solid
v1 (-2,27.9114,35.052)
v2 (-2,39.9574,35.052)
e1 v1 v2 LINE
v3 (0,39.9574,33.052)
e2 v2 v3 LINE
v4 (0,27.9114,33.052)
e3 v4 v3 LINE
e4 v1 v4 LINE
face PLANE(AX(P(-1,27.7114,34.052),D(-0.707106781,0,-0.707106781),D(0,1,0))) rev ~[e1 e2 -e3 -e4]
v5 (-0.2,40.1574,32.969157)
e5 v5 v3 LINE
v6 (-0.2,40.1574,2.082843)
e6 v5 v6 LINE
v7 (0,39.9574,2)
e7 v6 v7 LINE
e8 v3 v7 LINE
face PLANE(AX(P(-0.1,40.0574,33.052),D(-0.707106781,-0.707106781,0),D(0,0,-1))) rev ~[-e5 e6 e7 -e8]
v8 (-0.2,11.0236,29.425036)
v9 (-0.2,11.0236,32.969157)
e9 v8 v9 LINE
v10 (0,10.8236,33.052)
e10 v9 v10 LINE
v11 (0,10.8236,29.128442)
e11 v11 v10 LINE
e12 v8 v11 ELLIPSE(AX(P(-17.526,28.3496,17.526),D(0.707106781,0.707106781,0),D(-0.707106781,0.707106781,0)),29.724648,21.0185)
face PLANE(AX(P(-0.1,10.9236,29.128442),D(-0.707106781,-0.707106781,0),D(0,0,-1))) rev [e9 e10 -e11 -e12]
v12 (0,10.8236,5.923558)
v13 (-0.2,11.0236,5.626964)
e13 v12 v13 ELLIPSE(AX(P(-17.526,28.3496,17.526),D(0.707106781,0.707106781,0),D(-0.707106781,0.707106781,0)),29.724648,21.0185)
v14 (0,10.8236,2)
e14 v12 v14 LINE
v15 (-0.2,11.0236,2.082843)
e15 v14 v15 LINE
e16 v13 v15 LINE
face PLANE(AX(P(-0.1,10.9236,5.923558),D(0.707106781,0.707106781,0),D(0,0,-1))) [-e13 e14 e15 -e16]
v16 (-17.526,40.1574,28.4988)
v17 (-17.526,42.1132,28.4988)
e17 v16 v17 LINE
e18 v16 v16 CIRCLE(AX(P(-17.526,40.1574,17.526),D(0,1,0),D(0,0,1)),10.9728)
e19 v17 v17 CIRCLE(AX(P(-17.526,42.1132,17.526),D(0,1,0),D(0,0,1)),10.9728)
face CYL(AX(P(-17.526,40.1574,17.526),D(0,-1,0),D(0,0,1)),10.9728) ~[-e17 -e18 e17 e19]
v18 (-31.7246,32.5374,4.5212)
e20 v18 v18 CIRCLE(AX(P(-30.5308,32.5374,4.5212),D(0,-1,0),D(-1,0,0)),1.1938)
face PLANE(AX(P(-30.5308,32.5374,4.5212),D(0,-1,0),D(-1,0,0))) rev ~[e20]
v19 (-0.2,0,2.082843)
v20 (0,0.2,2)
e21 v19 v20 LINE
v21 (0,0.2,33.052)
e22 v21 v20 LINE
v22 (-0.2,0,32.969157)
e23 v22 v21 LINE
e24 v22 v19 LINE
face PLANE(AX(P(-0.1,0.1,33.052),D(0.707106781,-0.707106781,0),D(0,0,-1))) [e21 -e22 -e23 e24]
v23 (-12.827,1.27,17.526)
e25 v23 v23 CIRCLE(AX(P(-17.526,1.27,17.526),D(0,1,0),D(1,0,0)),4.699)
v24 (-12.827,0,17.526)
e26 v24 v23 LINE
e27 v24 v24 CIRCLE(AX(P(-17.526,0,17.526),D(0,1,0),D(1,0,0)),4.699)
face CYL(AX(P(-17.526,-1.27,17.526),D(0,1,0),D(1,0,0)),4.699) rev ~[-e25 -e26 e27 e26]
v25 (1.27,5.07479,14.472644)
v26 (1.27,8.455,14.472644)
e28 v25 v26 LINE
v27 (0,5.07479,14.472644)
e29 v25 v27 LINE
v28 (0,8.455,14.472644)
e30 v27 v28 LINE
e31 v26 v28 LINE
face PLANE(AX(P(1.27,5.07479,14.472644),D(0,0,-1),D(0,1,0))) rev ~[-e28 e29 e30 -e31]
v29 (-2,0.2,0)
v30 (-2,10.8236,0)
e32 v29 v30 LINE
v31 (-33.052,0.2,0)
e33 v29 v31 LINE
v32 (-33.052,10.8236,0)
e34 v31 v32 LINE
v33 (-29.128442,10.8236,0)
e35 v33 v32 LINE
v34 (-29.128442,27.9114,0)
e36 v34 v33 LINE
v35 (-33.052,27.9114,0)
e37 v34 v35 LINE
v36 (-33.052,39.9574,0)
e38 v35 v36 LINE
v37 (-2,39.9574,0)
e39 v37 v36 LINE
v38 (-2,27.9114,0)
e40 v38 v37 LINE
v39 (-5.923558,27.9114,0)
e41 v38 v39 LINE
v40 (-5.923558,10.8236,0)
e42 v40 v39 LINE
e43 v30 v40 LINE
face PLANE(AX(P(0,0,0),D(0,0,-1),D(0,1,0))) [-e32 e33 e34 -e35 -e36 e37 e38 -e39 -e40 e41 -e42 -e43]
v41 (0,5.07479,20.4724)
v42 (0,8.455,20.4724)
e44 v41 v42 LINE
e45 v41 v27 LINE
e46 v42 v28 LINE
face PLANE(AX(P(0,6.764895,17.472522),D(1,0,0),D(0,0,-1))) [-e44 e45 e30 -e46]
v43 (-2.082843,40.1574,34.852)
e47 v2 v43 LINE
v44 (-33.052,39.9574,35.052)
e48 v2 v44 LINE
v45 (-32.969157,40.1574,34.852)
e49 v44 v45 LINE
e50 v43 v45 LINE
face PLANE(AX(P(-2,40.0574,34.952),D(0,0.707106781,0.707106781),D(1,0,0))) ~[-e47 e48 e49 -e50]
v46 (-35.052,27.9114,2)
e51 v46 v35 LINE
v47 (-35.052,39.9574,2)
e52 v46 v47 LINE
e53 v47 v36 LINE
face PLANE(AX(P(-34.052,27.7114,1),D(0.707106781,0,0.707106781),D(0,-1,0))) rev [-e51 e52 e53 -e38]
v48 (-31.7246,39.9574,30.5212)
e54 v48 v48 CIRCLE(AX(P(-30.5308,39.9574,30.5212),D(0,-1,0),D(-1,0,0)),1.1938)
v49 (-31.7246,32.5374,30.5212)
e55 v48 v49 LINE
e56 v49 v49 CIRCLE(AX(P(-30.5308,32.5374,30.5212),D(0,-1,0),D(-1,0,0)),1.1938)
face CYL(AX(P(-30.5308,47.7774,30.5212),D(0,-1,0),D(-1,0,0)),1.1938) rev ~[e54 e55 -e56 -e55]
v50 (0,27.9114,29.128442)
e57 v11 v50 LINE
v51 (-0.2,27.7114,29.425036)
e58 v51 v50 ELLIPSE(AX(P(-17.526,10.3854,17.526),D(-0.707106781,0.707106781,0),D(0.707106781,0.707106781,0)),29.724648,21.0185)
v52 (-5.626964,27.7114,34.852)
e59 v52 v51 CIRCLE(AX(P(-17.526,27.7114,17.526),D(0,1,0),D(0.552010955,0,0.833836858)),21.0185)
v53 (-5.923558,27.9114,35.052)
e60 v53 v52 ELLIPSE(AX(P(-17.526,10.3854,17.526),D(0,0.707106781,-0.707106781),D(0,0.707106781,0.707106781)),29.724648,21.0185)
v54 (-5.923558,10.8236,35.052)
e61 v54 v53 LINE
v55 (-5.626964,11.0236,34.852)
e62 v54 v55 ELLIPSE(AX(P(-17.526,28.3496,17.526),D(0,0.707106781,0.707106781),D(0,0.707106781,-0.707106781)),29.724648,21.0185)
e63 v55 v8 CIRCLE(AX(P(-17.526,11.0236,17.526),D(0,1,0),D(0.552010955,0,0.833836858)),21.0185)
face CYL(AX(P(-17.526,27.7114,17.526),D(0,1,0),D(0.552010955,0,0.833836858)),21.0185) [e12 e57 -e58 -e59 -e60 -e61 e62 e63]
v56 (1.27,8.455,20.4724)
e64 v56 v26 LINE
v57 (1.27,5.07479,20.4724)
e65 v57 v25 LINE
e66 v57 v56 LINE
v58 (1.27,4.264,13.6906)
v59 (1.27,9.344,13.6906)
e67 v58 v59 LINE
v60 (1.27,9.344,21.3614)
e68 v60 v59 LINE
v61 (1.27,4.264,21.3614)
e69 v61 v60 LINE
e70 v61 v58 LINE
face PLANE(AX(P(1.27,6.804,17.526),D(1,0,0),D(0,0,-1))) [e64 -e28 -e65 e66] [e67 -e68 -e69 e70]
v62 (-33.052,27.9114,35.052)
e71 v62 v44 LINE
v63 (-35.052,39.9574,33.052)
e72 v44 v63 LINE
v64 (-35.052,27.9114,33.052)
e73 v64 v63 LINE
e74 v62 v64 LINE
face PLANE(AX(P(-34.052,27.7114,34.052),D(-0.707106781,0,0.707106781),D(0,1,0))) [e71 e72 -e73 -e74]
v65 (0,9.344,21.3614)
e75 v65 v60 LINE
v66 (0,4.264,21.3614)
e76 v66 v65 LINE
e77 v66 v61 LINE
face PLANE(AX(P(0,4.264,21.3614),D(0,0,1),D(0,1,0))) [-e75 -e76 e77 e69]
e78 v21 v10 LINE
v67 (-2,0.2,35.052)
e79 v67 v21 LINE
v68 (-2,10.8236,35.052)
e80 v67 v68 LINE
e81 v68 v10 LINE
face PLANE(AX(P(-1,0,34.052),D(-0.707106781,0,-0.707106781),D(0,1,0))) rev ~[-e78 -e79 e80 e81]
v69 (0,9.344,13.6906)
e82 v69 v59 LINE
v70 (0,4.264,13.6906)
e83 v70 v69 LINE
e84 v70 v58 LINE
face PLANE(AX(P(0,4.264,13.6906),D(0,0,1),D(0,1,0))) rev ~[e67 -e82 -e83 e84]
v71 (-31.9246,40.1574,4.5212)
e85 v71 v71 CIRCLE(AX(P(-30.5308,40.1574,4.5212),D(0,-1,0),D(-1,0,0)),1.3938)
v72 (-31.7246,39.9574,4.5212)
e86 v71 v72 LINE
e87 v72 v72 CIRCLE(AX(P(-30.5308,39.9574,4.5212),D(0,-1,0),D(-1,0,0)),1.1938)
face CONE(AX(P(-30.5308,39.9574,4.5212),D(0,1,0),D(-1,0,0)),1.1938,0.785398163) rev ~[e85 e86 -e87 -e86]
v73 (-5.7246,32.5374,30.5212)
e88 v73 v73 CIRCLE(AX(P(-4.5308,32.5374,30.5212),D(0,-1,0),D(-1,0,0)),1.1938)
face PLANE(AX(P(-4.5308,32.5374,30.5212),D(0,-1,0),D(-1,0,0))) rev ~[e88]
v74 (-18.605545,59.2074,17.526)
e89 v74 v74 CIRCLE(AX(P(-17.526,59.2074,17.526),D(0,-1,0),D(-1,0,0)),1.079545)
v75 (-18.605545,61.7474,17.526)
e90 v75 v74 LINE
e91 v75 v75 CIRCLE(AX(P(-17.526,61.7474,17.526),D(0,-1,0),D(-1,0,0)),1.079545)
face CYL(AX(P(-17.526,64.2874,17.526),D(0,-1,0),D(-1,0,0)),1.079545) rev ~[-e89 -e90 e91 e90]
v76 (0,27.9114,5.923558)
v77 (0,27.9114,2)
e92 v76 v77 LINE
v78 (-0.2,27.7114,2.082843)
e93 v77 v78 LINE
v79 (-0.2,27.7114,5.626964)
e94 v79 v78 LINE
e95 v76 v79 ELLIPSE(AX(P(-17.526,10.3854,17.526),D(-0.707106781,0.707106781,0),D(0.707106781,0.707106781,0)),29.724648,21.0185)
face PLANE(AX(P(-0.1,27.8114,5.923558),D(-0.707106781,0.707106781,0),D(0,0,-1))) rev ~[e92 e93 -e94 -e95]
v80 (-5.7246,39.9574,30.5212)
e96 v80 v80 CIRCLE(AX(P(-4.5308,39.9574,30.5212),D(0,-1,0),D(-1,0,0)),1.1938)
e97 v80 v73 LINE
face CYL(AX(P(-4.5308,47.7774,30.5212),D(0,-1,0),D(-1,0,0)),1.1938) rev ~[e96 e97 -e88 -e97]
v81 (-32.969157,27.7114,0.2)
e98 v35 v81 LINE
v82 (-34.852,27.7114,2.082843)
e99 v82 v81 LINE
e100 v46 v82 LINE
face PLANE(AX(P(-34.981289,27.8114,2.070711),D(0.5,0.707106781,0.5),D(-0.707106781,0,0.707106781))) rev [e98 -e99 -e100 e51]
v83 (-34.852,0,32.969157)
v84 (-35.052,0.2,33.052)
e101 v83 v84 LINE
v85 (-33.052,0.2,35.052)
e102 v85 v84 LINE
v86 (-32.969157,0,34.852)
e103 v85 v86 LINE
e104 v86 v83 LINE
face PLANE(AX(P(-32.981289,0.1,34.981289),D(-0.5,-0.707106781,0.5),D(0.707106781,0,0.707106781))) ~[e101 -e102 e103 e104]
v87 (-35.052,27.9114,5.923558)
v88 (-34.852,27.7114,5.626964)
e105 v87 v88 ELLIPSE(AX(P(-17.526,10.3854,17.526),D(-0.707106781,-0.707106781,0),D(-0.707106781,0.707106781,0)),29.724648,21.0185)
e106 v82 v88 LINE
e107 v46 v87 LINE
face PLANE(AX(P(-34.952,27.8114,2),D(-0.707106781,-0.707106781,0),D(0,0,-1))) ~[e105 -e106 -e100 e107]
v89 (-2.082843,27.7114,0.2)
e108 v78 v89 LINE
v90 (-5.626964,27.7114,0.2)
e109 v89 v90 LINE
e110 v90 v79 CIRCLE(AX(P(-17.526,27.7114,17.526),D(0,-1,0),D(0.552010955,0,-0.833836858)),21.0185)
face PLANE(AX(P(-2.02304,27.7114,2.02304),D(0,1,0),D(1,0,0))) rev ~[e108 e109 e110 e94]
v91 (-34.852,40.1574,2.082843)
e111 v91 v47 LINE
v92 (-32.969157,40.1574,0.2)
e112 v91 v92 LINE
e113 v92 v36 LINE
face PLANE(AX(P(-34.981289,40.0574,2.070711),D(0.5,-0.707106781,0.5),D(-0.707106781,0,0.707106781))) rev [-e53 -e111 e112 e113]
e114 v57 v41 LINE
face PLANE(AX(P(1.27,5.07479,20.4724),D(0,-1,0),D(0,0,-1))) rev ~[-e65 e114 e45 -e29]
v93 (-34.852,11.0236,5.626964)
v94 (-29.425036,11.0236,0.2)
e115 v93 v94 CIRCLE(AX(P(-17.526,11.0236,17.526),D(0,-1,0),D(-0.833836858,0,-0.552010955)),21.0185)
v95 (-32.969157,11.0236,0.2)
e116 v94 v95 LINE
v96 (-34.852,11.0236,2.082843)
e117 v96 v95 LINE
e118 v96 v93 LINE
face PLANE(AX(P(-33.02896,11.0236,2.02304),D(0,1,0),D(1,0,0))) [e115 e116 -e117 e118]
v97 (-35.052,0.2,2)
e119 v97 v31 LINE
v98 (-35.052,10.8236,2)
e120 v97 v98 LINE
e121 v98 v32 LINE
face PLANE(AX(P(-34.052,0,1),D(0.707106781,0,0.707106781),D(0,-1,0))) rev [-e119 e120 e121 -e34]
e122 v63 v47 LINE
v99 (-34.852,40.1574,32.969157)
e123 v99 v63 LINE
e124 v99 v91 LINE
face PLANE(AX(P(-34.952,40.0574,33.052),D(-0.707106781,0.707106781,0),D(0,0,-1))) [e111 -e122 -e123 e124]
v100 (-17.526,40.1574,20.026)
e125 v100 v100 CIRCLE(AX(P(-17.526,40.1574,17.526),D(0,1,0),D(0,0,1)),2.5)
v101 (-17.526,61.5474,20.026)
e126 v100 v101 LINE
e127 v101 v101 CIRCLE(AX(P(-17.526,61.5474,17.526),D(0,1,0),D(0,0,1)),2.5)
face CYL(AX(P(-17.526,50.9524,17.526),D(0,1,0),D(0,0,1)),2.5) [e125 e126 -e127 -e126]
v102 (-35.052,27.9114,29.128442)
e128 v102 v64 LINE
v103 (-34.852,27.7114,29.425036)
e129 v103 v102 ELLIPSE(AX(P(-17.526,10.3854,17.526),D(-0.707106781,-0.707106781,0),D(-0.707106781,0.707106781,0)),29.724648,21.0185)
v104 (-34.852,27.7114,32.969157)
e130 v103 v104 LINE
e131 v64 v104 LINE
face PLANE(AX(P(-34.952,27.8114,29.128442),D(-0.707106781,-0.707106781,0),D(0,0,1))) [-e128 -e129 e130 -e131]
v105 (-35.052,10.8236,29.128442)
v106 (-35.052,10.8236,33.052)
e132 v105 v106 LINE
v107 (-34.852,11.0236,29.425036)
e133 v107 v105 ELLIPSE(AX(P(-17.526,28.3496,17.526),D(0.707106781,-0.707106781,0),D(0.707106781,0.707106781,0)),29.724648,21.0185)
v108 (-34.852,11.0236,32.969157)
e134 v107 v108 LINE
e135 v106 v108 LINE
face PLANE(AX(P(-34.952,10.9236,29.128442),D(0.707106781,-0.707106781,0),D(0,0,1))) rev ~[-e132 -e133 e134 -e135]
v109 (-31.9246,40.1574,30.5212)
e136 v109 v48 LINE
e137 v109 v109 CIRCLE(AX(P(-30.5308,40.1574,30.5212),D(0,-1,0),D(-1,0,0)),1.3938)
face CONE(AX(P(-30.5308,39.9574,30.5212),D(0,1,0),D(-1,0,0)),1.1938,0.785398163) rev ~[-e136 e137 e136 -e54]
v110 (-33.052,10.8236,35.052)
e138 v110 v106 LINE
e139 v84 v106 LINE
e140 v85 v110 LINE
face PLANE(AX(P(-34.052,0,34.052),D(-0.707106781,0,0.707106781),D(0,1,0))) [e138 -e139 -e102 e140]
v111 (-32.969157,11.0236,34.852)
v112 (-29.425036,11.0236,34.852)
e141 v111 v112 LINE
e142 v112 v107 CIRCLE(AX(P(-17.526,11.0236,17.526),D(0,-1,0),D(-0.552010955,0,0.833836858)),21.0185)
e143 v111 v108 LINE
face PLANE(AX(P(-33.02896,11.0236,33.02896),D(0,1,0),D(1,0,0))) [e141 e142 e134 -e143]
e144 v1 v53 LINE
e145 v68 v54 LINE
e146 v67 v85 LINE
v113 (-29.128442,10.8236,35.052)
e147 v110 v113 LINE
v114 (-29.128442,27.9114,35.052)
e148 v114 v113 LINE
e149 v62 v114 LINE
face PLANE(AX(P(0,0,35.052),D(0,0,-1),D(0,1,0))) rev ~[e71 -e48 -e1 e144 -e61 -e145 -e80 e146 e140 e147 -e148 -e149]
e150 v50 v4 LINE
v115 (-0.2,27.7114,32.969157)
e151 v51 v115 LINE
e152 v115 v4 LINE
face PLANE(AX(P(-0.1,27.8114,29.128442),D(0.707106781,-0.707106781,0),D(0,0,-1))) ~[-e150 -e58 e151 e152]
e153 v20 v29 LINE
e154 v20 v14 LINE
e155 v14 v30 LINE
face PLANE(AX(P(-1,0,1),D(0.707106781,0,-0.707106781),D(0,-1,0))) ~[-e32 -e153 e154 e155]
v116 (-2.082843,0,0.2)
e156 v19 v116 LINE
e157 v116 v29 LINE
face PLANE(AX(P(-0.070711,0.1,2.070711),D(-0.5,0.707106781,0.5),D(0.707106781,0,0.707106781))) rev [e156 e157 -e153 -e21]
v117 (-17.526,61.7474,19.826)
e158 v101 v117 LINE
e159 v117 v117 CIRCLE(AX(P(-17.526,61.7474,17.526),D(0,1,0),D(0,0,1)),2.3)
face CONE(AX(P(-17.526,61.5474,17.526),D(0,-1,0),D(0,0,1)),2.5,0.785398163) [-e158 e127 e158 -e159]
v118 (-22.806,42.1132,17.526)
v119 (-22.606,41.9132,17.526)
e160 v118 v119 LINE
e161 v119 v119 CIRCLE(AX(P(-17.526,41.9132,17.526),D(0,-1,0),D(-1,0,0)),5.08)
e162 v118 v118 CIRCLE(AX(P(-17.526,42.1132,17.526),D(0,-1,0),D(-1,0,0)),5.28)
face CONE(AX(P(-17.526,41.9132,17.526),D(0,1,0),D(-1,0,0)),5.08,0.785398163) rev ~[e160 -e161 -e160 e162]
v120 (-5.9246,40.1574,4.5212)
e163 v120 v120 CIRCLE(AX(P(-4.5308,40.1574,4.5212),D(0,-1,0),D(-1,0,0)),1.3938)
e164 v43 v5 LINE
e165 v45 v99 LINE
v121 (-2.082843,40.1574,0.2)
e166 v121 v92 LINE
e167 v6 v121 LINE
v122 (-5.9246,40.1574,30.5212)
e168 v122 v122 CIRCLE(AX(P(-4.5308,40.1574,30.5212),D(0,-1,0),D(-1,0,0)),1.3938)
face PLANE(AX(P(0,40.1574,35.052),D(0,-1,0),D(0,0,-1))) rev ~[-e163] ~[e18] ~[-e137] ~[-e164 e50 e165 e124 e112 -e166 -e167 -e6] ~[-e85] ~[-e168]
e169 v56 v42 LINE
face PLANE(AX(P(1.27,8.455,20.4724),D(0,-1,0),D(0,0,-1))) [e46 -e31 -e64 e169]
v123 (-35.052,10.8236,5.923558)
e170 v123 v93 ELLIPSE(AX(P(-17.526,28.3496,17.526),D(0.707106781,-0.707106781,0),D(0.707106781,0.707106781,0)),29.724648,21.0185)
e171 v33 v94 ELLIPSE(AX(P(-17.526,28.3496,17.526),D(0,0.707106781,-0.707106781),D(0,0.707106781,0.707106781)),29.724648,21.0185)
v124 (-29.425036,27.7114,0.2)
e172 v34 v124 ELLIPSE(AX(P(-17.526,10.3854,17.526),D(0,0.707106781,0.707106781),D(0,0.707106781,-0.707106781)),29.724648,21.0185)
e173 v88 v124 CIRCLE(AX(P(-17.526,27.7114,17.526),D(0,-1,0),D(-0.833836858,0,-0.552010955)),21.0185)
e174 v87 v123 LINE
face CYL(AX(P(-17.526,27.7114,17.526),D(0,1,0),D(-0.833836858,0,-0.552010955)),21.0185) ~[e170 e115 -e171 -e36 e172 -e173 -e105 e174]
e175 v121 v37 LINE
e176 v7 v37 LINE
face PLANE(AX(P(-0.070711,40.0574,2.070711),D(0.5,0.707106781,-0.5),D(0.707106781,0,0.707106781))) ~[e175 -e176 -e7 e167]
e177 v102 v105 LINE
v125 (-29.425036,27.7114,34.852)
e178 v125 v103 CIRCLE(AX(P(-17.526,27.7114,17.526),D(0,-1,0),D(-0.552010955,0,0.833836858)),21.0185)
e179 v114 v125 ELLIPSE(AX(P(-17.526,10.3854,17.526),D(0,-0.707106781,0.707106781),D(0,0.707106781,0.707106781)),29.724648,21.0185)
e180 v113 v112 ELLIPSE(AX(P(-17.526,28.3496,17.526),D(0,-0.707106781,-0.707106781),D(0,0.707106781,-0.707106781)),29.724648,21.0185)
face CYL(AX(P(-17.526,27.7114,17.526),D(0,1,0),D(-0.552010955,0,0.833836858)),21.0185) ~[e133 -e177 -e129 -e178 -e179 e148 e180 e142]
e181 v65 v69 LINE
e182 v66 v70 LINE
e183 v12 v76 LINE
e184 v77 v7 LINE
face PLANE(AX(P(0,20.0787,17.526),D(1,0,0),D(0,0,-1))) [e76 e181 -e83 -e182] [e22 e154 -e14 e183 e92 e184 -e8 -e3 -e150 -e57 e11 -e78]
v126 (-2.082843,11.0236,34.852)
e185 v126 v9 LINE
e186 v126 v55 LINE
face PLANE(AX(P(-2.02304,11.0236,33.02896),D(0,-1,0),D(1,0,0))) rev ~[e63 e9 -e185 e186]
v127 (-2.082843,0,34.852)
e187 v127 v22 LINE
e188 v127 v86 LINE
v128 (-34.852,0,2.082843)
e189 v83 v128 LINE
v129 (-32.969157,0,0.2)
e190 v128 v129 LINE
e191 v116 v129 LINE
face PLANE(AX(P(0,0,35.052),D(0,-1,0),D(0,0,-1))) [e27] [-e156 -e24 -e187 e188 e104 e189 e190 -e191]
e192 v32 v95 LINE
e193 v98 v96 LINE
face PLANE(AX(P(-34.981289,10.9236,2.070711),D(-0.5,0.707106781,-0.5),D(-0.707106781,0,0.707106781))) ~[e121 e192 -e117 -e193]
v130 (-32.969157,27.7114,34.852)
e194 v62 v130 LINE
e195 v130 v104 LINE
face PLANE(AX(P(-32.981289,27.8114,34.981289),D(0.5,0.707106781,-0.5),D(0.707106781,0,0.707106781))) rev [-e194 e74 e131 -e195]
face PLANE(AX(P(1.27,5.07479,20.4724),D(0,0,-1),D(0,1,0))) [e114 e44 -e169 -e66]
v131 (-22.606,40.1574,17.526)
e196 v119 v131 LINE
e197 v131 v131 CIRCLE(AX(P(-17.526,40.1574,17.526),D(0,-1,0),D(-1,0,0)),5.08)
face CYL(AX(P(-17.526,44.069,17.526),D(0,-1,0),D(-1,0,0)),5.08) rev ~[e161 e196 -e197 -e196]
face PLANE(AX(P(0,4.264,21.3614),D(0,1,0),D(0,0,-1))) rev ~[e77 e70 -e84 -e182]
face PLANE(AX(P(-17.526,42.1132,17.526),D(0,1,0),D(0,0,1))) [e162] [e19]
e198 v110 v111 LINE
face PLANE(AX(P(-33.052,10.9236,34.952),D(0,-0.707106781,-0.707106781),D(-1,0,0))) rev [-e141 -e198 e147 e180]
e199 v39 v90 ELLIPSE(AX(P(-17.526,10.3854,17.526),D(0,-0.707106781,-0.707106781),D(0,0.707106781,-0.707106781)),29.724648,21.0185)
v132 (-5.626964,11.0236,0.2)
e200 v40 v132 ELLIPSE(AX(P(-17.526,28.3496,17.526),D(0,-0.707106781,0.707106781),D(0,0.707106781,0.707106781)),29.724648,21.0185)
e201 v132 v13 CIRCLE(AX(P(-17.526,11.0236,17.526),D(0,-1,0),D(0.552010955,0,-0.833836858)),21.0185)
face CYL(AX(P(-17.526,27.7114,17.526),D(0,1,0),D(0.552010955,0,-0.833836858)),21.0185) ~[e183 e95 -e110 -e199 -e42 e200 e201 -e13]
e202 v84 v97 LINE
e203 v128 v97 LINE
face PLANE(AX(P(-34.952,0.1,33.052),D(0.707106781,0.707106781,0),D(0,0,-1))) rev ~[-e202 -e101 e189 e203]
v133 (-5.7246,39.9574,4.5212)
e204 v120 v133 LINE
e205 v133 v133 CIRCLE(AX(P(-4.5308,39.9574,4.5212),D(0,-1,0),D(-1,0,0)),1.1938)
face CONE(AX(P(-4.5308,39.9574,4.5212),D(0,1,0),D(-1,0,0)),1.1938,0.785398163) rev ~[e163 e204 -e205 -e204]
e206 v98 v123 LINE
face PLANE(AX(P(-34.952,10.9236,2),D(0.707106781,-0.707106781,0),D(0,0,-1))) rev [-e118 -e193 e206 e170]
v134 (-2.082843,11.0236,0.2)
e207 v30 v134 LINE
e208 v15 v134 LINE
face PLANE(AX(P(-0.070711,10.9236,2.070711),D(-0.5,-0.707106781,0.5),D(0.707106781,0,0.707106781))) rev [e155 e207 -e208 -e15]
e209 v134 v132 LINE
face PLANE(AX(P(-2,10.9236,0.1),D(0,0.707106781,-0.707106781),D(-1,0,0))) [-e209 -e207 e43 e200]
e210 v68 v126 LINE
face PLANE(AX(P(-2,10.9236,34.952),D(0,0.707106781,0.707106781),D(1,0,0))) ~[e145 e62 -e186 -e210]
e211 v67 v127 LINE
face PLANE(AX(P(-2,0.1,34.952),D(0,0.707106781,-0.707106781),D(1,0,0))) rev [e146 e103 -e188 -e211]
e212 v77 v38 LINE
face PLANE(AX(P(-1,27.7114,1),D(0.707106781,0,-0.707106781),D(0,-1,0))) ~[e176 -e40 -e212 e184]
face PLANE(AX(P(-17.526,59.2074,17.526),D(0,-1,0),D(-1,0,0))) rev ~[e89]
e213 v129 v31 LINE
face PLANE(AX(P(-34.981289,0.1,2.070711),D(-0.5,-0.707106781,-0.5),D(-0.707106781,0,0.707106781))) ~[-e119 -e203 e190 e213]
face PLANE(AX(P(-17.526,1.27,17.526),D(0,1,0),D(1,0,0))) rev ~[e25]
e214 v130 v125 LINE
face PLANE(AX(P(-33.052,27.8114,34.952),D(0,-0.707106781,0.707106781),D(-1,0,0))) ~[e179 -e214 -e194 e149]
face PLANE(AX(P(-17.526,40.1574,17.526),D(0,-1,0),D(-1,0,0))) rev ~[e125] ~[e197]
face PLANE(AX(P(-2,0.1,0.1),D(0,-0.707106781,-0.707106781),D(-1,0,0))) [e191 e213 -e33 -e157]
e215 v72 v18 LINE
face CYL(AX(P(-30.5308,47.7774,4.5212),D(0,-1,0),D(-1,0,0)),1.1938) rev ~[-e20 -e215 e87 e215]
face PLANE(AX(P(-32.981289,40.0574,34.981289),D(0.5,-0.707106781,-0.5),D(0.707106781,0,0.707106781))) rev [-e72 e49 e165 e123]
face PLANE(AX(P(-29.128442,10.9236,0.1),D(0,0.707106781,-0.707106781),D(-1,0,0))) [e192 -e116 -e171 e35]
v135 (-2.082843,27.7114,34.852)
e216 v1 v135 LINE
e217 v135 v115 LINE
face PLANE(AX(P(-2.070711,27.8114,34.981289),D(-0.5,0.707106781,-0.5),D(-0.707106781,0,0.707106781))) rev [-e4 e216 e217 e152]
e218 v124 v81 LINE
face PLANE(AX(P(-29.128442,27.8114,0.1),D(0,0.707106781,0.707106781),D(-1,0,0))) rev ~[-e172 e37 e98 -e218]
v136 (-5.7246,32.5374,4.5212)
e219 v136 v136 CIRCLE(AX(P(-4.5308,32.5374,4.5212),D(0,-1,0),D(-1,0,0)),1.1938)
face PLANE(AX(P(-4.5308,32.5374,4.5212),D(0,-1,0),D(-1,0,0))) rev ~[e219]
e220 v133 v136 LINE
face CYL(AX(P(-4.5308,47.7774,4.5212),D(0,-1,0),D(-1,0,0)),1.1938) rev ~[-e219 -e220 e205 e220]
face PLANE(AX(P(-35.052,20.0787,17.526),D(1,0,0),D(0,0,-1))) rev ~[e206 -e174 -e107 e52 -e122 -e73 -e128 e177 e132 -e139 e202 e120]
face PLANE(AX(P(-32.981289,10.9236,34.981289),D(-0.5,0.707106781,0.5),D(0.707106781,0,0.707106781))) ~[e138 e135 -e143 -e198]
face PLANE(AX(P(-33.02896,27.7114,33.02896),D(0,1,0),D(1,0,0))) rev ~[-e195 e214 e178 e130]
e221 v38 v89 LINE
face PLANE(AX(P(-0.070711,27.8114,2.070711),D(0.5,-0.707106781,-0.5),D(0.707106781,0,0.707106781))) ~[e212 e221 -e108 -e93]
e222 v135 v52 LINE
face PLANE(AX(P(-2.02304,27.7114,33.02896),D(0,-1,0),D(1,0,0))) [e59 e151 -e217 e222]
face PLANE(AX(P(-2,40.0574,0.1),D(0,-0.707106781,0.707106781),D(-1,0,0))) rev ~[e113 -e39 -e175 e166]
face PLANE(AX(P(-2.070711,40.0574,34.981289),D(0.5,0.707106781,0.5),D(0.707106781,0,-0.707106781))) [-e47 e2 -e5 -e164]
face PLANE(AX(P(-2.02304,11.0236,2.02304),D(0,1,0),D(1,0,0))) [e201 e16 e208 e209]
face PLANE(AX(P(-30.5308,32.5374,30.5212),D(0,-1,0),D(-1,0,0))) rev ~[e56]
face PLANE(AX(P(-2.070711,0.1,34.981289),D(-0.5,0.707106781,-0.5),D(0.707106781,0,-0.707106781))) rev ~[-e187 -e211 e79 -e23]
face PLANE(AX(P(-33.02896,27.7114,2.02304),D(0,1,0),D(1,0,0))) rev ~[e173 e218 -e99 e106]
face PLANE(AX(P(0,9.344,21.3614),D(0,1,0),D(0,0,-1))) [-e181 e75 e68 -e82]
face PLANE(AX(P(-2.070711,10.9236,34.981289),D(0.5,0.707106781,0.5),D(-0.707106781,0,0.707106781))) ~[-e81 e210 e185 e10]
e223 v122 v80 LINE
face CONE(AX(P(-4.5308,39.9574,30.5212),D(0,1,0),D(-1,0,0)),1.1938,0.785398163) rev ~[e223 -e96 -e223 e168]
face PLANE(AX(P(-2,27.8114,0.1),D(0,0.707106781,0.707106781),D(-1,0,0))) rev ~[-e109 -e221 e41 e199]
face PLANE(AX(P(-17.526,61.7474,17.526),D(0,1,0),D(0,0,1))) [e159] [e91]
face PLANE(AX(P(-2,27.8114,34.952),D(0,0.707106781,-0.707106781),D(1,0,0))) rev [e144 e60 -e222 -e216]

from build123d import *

# Parameters (mm, degrees)
SKETCH1_W                = 35.052
SKETCH1_H                = 40.1574
BOSS_EXTRUDE1_DEPTH      = 35.052
CUT_EXTRUDE1_DEPTH       = 16.6878
CUT_EXTRUDE2_DEPTH       = 16.6878
CUT_EXTRUDE3_DEPTH       = 16.6878
CUT_EXTRUDE4_START       = -16.6878
CUT_EXTRUDE4_DEPTH       = 16.6878
SKETCH6_W                = 7.6708
SKETCH6_H                = 5.08
BOSS_EXTRUDE2_DEPTH      = 1.27
SKETCH7_W                = 5.999755797
SKETCH7_H                = 3.380210023
CUT_EXTRUDE5_DEPTH       = 1.27
SKETCH8_R                = 10.9728
BOSS_EXTRUDE3_DEPTH      = 1.9558
HOLE1_D                  = 10.16
HOLE1_DEPTH              = 1.9558
SKETCH11_W               = 2.5
SKETCH11_H               = 21.59
M8_CLEARANCE_HOLE1_D     = 9.398
M8_CLEARANCE_HOLE1_DEPTH = 1.27
M2_CLEARANCE_HOLE1_D     = 2.3876
M2_CLEARANCE_HOLE1_DEPTH = 7.62
HOLE2_D                  = 2.159089633
HOLE2_DEPTH              = 2.54
CHAMFER1_SIZE            = 2
CHAMFER2_SIZE            = 0.2


with BuildPart() as part:
    # Sketch1 → Boss-Extrude1 (new body)
    with BuildSketch(Plane(origin=(0, 0, 0), x_dir=(0, 0, -1), z_dir=(1, 0, 0))):
        with Locations((-17.526, 20.0787)):
            Rectangle(SKETCH1_W, SKETCH1_H)
    extrude(amount=-BOSS_EXTRUDE1_DEPTH)

    # Sketch2 → Cut-Extrude1 (cut)
    with BuildSketch(Plane(origin=(0, 27.7114, 0), x_dir=(1, 0, 0), z_dir=(0, 1, 0))):
        with BuildLine():
            Line((0, -5.923557746), (0, 0))
            Line((0, 0), (-5.923557746, 0))
            ThreePointArc((-5.923557746, 0), (-2.66367612, -2.66367612), (0, -5.923557746))
        make_face()
    extrude(amount=-CUT_EXTRUDE1_DEPTH, mode=Mode.SUBTRACT)

    # Sketch3 → Cut-Extrude2 (cut)
    with BuildSketch(Plane(origin=(0, 27.7114, 0), x_dir=(1, 0, 0), z_dir=(0, 1, 0))):
        with BuildLine():
            Line((-29.128442254, 0), (-35.052, 0))
            Line((-35.052, 0), (-35.052, -5.923557746))
            ThreePointArc((-35.052, -5.923557746), (-32.38832388, -2.66367612), (-29.128442254, 0))
        make_face()
    extrude(amount=-CUT_EXTRUDE2_DEPTH, mode=Mode.SUBTRACT)

    # Sketch4 → Cut-Extrude3 (cut)
    with BuildSketch(Plane(origin=(0, 27.7114, 0), x_dir=(1, 0, 0), z_dir=(0, 1, 0))):
        with BuildLine():
            Line((-35.052, -29.128442254), (-35.052, -35.052))
            Line((-35.052, -35.052), (-29.128442254, -35.052))
            ThreePointArc((-29.128442254, -35.052), (-32.38832388, -32.38832388), (-35.052, -29.128442254))
        make_face()
    extrude(amount=-CUT_EXTRUDE3_DEPTH, mode=Mode.SUBTRACT)

    # Sketch5 → Cut-Extrude4 (cut)
    with BuildSketch(Plane.XZ.offset(-11.0236).offset(CUT_EXTRUDE4_START)):
        with BuildLine():
            Line((0, 29.128442254), (0, 35.052))
            Line((0, 35.052), (-5.923557746, 35.052))
            ThreePointArc((-5.923557746, 35.052), (-2.66367612, 32.38832388), (0, 29.128442254))
        make_face()
    extrude(amount=CUT_EXTRUDE4_DEPTH, mode=Mode.SUBTRACT)

    # Sketch6 → Boss-Extrude2 (add)
    with BuildSketch(Plane(origin=(0, 0, 0), x_dir=(0, 0, -1), z_dir=(1, 0, 0))):
        with Locations((-17.526, 6.804)):
            Rectangle(SKETCH6_W, SKETCH6_H)
    extrude(amount=BOSS_EXTRUDE2_DEPTH)

    # Sketch7 → Cut-Extrude5 (cut)
    with BuildSketch(Plane(origin=(1.27, 0, 0), x_dir=(0, 0, -1), z_dir=(1, 0, 0))):
        with Locations((-17.472522102, 6.764894989)):
            Rectangle(SKETCH7_W, SKETCH7_H)
    extrude(amount=-CUT_EXTRUDE5_DEPTH, mode=Mode.SUBTRACT)

    # Sketch8 → Boss-Extrude3 (add)
    with BuildSketch(Plane(origin=(0, 40.1574, 0), x_dir=(-1, 0, 0), z_dir=(0, 1, 0))):
        with Locations(Location((17.526, 17.526, 0), (0, 0, 90))):
            Circle(SKETCH8_R)
    extrude(amount=BOSS_EXTRUDE3_DEPTH)

    # Hole1
    with Locations(Plane(origin=(0, 42.1132, 0), x_dir=(1, 0, 0), z_dir=(0, 1, 0))):
        with Locations((-17.526, -17.526)):
            Hole(HOLE1_D / 2, depth=HOLE1_DEPTH)

    # Sketch11 → Revolve1 (revolve)
    with BuildSketch(Plane(origin=(0, 0, 17.526), x_dir=(-1, 0, 0), z_dir=(0, 0, -1)), mode=Mode.PRIVATE) as revolve1_sk:
        with Locations((16.276, 50.9524)):
            Rectangle(SKETCH11_W, SKETCH11_H)
    revolve(revolve1_sk.sketch.rotate(Axis((-17.526, 40.1574, 17.526), (0, 1, 0)), 270), axis=Axis((-17.526, 40.1574, 17.526), (0, 1, 0)))

    # M8 Clearance Hole1
    with Locations(Plane(origin=(0, 0, 0), x_dir=(-1, 0, 0), z_dir=(0, -1, 0))):
        with Locations((17.526, -17.526)):
            Hole(M8_CLEARANCE_HOLE1_D / 2, depth=M8_CLEARANCE_HOLE1_DEPTH)

    # M2 Clearance Hole1
    with Locations(Plane(origin=(0, 40.1574, 0), x_dir=(1, 0, 0), z_dir=(0, 1, 0))):
        with Locations((-4.5308, -30.5212), (-30.5308, -4.5212), (-30.5308, -30.5212), (-4.5308, -4.5212)):
            Hole(M2_CLEARANCE_HOLE1_D / 2, depth=M2_CLEARANCE_HOLE1_DEPTH)

    # Hole2
    with Locations(Plane(origin=(0, 61.7474, 0), x_dir=(1, 0, 0), z_dir=(0, 1, 0))):
        with Locations((-17.526, -17.526)):
            Hole(HOLE2_D / 2, depth=HOLE2_DEPTH)

    # Chamfer1
    chamfer1_edges = [part.edges().sort_by_distance(p)[0] for p in [
        (-35.052, 5.5118, 0),
        (0, 33.9344, 0),
        (-35.052, 33.9344, 0),
        (-35.052, 5.5118, 35.052),
        (-35.052, 33.9344, 35.052),
        (0, 5.5118, 35.052),
        (0, 5.5118, 0),
        (0, 33.9344, 35.052),
    ]]
    chamfer(chamfer1_edges, length=CHAMFER1_SIZE)

    # Chamfer2
    chamfer2_edges = [part.edges().sort_by_distance(p)[0] for p in [
        (-3.337, 40.1574, 4.5212),
        (-29.337, 40.1574, 30.5212),
        (-29.337, 40.1574, 4.5212),
        (-3.337, 40.1574, 30.5212),
        (-3.961778873, 27.7114, 35.052),
        (-17.526, 40.1574, 35.052),
        (-31.090221127, 27.7114, 35.052),
        (-31.090221127, 11.0236, 35.052),
        (-17.526, 0, 35.052),
        (-3.961778873, 11.0236, 35.052),
        (-34.052, 27.7114, 34.052),
        (-35.052, 40.1574, 17.526),
        (-35.052, 27.7114, 3.961778873),
        (-35.052, 11.0236, 3.961778873),
        (-35.052, 0, 17.526),
        (0, 40.1574, 17.526),
        (-17.526, 40.1574, 0),
        (-1, 40.1574, 34.052),
        (-34.052, 40.1574, 1),
        (-1, 40.1574, 1),
        (-34.052, 40.1574, 34.052),
        (0, 0, 17.526),
        (-17.526, 0, 0),
        (-34.052, 0, 34.052),
        (-1, 0, 1),
        (-34.052, 0, 1),
        (-1, 0, 34.052),
        (-1, 11.0236, 34.052),
        (-3.961778873, 27.7114, 0),
        (-3.961778873, 11.0236, 0),
        (-34.052, 11.0236, 1),
        (-1, 27.7114, 1),
        (-1, 11.0236, 1),
        (-34.052, 27.7114, 1),
        (-1, 27.7114, 34.052),
        (-34.052, 11.0236, 34.052),
        (0, 11.0236, 3.961778873),
        (0, 27.7114, 3.961778873),
        (-31.090221127, 11.0236, 0),
        (-31.090221127, 27.7114, 0),
        (-35.052, 11.0236, 31.090221127),
        (-35.052, 27.7114, 31.090221127),
        (0, 27.7114, 31.090221127),
        (0, 11.0236, 31.090221127),
        (-12.446, 42.1132, 17.526),
        (-17.526, 61.7474, 15.026),
    ]]
    chamfer(chamfer2_edges, length=CHAMFER2_SIZE)


solid = part.part
